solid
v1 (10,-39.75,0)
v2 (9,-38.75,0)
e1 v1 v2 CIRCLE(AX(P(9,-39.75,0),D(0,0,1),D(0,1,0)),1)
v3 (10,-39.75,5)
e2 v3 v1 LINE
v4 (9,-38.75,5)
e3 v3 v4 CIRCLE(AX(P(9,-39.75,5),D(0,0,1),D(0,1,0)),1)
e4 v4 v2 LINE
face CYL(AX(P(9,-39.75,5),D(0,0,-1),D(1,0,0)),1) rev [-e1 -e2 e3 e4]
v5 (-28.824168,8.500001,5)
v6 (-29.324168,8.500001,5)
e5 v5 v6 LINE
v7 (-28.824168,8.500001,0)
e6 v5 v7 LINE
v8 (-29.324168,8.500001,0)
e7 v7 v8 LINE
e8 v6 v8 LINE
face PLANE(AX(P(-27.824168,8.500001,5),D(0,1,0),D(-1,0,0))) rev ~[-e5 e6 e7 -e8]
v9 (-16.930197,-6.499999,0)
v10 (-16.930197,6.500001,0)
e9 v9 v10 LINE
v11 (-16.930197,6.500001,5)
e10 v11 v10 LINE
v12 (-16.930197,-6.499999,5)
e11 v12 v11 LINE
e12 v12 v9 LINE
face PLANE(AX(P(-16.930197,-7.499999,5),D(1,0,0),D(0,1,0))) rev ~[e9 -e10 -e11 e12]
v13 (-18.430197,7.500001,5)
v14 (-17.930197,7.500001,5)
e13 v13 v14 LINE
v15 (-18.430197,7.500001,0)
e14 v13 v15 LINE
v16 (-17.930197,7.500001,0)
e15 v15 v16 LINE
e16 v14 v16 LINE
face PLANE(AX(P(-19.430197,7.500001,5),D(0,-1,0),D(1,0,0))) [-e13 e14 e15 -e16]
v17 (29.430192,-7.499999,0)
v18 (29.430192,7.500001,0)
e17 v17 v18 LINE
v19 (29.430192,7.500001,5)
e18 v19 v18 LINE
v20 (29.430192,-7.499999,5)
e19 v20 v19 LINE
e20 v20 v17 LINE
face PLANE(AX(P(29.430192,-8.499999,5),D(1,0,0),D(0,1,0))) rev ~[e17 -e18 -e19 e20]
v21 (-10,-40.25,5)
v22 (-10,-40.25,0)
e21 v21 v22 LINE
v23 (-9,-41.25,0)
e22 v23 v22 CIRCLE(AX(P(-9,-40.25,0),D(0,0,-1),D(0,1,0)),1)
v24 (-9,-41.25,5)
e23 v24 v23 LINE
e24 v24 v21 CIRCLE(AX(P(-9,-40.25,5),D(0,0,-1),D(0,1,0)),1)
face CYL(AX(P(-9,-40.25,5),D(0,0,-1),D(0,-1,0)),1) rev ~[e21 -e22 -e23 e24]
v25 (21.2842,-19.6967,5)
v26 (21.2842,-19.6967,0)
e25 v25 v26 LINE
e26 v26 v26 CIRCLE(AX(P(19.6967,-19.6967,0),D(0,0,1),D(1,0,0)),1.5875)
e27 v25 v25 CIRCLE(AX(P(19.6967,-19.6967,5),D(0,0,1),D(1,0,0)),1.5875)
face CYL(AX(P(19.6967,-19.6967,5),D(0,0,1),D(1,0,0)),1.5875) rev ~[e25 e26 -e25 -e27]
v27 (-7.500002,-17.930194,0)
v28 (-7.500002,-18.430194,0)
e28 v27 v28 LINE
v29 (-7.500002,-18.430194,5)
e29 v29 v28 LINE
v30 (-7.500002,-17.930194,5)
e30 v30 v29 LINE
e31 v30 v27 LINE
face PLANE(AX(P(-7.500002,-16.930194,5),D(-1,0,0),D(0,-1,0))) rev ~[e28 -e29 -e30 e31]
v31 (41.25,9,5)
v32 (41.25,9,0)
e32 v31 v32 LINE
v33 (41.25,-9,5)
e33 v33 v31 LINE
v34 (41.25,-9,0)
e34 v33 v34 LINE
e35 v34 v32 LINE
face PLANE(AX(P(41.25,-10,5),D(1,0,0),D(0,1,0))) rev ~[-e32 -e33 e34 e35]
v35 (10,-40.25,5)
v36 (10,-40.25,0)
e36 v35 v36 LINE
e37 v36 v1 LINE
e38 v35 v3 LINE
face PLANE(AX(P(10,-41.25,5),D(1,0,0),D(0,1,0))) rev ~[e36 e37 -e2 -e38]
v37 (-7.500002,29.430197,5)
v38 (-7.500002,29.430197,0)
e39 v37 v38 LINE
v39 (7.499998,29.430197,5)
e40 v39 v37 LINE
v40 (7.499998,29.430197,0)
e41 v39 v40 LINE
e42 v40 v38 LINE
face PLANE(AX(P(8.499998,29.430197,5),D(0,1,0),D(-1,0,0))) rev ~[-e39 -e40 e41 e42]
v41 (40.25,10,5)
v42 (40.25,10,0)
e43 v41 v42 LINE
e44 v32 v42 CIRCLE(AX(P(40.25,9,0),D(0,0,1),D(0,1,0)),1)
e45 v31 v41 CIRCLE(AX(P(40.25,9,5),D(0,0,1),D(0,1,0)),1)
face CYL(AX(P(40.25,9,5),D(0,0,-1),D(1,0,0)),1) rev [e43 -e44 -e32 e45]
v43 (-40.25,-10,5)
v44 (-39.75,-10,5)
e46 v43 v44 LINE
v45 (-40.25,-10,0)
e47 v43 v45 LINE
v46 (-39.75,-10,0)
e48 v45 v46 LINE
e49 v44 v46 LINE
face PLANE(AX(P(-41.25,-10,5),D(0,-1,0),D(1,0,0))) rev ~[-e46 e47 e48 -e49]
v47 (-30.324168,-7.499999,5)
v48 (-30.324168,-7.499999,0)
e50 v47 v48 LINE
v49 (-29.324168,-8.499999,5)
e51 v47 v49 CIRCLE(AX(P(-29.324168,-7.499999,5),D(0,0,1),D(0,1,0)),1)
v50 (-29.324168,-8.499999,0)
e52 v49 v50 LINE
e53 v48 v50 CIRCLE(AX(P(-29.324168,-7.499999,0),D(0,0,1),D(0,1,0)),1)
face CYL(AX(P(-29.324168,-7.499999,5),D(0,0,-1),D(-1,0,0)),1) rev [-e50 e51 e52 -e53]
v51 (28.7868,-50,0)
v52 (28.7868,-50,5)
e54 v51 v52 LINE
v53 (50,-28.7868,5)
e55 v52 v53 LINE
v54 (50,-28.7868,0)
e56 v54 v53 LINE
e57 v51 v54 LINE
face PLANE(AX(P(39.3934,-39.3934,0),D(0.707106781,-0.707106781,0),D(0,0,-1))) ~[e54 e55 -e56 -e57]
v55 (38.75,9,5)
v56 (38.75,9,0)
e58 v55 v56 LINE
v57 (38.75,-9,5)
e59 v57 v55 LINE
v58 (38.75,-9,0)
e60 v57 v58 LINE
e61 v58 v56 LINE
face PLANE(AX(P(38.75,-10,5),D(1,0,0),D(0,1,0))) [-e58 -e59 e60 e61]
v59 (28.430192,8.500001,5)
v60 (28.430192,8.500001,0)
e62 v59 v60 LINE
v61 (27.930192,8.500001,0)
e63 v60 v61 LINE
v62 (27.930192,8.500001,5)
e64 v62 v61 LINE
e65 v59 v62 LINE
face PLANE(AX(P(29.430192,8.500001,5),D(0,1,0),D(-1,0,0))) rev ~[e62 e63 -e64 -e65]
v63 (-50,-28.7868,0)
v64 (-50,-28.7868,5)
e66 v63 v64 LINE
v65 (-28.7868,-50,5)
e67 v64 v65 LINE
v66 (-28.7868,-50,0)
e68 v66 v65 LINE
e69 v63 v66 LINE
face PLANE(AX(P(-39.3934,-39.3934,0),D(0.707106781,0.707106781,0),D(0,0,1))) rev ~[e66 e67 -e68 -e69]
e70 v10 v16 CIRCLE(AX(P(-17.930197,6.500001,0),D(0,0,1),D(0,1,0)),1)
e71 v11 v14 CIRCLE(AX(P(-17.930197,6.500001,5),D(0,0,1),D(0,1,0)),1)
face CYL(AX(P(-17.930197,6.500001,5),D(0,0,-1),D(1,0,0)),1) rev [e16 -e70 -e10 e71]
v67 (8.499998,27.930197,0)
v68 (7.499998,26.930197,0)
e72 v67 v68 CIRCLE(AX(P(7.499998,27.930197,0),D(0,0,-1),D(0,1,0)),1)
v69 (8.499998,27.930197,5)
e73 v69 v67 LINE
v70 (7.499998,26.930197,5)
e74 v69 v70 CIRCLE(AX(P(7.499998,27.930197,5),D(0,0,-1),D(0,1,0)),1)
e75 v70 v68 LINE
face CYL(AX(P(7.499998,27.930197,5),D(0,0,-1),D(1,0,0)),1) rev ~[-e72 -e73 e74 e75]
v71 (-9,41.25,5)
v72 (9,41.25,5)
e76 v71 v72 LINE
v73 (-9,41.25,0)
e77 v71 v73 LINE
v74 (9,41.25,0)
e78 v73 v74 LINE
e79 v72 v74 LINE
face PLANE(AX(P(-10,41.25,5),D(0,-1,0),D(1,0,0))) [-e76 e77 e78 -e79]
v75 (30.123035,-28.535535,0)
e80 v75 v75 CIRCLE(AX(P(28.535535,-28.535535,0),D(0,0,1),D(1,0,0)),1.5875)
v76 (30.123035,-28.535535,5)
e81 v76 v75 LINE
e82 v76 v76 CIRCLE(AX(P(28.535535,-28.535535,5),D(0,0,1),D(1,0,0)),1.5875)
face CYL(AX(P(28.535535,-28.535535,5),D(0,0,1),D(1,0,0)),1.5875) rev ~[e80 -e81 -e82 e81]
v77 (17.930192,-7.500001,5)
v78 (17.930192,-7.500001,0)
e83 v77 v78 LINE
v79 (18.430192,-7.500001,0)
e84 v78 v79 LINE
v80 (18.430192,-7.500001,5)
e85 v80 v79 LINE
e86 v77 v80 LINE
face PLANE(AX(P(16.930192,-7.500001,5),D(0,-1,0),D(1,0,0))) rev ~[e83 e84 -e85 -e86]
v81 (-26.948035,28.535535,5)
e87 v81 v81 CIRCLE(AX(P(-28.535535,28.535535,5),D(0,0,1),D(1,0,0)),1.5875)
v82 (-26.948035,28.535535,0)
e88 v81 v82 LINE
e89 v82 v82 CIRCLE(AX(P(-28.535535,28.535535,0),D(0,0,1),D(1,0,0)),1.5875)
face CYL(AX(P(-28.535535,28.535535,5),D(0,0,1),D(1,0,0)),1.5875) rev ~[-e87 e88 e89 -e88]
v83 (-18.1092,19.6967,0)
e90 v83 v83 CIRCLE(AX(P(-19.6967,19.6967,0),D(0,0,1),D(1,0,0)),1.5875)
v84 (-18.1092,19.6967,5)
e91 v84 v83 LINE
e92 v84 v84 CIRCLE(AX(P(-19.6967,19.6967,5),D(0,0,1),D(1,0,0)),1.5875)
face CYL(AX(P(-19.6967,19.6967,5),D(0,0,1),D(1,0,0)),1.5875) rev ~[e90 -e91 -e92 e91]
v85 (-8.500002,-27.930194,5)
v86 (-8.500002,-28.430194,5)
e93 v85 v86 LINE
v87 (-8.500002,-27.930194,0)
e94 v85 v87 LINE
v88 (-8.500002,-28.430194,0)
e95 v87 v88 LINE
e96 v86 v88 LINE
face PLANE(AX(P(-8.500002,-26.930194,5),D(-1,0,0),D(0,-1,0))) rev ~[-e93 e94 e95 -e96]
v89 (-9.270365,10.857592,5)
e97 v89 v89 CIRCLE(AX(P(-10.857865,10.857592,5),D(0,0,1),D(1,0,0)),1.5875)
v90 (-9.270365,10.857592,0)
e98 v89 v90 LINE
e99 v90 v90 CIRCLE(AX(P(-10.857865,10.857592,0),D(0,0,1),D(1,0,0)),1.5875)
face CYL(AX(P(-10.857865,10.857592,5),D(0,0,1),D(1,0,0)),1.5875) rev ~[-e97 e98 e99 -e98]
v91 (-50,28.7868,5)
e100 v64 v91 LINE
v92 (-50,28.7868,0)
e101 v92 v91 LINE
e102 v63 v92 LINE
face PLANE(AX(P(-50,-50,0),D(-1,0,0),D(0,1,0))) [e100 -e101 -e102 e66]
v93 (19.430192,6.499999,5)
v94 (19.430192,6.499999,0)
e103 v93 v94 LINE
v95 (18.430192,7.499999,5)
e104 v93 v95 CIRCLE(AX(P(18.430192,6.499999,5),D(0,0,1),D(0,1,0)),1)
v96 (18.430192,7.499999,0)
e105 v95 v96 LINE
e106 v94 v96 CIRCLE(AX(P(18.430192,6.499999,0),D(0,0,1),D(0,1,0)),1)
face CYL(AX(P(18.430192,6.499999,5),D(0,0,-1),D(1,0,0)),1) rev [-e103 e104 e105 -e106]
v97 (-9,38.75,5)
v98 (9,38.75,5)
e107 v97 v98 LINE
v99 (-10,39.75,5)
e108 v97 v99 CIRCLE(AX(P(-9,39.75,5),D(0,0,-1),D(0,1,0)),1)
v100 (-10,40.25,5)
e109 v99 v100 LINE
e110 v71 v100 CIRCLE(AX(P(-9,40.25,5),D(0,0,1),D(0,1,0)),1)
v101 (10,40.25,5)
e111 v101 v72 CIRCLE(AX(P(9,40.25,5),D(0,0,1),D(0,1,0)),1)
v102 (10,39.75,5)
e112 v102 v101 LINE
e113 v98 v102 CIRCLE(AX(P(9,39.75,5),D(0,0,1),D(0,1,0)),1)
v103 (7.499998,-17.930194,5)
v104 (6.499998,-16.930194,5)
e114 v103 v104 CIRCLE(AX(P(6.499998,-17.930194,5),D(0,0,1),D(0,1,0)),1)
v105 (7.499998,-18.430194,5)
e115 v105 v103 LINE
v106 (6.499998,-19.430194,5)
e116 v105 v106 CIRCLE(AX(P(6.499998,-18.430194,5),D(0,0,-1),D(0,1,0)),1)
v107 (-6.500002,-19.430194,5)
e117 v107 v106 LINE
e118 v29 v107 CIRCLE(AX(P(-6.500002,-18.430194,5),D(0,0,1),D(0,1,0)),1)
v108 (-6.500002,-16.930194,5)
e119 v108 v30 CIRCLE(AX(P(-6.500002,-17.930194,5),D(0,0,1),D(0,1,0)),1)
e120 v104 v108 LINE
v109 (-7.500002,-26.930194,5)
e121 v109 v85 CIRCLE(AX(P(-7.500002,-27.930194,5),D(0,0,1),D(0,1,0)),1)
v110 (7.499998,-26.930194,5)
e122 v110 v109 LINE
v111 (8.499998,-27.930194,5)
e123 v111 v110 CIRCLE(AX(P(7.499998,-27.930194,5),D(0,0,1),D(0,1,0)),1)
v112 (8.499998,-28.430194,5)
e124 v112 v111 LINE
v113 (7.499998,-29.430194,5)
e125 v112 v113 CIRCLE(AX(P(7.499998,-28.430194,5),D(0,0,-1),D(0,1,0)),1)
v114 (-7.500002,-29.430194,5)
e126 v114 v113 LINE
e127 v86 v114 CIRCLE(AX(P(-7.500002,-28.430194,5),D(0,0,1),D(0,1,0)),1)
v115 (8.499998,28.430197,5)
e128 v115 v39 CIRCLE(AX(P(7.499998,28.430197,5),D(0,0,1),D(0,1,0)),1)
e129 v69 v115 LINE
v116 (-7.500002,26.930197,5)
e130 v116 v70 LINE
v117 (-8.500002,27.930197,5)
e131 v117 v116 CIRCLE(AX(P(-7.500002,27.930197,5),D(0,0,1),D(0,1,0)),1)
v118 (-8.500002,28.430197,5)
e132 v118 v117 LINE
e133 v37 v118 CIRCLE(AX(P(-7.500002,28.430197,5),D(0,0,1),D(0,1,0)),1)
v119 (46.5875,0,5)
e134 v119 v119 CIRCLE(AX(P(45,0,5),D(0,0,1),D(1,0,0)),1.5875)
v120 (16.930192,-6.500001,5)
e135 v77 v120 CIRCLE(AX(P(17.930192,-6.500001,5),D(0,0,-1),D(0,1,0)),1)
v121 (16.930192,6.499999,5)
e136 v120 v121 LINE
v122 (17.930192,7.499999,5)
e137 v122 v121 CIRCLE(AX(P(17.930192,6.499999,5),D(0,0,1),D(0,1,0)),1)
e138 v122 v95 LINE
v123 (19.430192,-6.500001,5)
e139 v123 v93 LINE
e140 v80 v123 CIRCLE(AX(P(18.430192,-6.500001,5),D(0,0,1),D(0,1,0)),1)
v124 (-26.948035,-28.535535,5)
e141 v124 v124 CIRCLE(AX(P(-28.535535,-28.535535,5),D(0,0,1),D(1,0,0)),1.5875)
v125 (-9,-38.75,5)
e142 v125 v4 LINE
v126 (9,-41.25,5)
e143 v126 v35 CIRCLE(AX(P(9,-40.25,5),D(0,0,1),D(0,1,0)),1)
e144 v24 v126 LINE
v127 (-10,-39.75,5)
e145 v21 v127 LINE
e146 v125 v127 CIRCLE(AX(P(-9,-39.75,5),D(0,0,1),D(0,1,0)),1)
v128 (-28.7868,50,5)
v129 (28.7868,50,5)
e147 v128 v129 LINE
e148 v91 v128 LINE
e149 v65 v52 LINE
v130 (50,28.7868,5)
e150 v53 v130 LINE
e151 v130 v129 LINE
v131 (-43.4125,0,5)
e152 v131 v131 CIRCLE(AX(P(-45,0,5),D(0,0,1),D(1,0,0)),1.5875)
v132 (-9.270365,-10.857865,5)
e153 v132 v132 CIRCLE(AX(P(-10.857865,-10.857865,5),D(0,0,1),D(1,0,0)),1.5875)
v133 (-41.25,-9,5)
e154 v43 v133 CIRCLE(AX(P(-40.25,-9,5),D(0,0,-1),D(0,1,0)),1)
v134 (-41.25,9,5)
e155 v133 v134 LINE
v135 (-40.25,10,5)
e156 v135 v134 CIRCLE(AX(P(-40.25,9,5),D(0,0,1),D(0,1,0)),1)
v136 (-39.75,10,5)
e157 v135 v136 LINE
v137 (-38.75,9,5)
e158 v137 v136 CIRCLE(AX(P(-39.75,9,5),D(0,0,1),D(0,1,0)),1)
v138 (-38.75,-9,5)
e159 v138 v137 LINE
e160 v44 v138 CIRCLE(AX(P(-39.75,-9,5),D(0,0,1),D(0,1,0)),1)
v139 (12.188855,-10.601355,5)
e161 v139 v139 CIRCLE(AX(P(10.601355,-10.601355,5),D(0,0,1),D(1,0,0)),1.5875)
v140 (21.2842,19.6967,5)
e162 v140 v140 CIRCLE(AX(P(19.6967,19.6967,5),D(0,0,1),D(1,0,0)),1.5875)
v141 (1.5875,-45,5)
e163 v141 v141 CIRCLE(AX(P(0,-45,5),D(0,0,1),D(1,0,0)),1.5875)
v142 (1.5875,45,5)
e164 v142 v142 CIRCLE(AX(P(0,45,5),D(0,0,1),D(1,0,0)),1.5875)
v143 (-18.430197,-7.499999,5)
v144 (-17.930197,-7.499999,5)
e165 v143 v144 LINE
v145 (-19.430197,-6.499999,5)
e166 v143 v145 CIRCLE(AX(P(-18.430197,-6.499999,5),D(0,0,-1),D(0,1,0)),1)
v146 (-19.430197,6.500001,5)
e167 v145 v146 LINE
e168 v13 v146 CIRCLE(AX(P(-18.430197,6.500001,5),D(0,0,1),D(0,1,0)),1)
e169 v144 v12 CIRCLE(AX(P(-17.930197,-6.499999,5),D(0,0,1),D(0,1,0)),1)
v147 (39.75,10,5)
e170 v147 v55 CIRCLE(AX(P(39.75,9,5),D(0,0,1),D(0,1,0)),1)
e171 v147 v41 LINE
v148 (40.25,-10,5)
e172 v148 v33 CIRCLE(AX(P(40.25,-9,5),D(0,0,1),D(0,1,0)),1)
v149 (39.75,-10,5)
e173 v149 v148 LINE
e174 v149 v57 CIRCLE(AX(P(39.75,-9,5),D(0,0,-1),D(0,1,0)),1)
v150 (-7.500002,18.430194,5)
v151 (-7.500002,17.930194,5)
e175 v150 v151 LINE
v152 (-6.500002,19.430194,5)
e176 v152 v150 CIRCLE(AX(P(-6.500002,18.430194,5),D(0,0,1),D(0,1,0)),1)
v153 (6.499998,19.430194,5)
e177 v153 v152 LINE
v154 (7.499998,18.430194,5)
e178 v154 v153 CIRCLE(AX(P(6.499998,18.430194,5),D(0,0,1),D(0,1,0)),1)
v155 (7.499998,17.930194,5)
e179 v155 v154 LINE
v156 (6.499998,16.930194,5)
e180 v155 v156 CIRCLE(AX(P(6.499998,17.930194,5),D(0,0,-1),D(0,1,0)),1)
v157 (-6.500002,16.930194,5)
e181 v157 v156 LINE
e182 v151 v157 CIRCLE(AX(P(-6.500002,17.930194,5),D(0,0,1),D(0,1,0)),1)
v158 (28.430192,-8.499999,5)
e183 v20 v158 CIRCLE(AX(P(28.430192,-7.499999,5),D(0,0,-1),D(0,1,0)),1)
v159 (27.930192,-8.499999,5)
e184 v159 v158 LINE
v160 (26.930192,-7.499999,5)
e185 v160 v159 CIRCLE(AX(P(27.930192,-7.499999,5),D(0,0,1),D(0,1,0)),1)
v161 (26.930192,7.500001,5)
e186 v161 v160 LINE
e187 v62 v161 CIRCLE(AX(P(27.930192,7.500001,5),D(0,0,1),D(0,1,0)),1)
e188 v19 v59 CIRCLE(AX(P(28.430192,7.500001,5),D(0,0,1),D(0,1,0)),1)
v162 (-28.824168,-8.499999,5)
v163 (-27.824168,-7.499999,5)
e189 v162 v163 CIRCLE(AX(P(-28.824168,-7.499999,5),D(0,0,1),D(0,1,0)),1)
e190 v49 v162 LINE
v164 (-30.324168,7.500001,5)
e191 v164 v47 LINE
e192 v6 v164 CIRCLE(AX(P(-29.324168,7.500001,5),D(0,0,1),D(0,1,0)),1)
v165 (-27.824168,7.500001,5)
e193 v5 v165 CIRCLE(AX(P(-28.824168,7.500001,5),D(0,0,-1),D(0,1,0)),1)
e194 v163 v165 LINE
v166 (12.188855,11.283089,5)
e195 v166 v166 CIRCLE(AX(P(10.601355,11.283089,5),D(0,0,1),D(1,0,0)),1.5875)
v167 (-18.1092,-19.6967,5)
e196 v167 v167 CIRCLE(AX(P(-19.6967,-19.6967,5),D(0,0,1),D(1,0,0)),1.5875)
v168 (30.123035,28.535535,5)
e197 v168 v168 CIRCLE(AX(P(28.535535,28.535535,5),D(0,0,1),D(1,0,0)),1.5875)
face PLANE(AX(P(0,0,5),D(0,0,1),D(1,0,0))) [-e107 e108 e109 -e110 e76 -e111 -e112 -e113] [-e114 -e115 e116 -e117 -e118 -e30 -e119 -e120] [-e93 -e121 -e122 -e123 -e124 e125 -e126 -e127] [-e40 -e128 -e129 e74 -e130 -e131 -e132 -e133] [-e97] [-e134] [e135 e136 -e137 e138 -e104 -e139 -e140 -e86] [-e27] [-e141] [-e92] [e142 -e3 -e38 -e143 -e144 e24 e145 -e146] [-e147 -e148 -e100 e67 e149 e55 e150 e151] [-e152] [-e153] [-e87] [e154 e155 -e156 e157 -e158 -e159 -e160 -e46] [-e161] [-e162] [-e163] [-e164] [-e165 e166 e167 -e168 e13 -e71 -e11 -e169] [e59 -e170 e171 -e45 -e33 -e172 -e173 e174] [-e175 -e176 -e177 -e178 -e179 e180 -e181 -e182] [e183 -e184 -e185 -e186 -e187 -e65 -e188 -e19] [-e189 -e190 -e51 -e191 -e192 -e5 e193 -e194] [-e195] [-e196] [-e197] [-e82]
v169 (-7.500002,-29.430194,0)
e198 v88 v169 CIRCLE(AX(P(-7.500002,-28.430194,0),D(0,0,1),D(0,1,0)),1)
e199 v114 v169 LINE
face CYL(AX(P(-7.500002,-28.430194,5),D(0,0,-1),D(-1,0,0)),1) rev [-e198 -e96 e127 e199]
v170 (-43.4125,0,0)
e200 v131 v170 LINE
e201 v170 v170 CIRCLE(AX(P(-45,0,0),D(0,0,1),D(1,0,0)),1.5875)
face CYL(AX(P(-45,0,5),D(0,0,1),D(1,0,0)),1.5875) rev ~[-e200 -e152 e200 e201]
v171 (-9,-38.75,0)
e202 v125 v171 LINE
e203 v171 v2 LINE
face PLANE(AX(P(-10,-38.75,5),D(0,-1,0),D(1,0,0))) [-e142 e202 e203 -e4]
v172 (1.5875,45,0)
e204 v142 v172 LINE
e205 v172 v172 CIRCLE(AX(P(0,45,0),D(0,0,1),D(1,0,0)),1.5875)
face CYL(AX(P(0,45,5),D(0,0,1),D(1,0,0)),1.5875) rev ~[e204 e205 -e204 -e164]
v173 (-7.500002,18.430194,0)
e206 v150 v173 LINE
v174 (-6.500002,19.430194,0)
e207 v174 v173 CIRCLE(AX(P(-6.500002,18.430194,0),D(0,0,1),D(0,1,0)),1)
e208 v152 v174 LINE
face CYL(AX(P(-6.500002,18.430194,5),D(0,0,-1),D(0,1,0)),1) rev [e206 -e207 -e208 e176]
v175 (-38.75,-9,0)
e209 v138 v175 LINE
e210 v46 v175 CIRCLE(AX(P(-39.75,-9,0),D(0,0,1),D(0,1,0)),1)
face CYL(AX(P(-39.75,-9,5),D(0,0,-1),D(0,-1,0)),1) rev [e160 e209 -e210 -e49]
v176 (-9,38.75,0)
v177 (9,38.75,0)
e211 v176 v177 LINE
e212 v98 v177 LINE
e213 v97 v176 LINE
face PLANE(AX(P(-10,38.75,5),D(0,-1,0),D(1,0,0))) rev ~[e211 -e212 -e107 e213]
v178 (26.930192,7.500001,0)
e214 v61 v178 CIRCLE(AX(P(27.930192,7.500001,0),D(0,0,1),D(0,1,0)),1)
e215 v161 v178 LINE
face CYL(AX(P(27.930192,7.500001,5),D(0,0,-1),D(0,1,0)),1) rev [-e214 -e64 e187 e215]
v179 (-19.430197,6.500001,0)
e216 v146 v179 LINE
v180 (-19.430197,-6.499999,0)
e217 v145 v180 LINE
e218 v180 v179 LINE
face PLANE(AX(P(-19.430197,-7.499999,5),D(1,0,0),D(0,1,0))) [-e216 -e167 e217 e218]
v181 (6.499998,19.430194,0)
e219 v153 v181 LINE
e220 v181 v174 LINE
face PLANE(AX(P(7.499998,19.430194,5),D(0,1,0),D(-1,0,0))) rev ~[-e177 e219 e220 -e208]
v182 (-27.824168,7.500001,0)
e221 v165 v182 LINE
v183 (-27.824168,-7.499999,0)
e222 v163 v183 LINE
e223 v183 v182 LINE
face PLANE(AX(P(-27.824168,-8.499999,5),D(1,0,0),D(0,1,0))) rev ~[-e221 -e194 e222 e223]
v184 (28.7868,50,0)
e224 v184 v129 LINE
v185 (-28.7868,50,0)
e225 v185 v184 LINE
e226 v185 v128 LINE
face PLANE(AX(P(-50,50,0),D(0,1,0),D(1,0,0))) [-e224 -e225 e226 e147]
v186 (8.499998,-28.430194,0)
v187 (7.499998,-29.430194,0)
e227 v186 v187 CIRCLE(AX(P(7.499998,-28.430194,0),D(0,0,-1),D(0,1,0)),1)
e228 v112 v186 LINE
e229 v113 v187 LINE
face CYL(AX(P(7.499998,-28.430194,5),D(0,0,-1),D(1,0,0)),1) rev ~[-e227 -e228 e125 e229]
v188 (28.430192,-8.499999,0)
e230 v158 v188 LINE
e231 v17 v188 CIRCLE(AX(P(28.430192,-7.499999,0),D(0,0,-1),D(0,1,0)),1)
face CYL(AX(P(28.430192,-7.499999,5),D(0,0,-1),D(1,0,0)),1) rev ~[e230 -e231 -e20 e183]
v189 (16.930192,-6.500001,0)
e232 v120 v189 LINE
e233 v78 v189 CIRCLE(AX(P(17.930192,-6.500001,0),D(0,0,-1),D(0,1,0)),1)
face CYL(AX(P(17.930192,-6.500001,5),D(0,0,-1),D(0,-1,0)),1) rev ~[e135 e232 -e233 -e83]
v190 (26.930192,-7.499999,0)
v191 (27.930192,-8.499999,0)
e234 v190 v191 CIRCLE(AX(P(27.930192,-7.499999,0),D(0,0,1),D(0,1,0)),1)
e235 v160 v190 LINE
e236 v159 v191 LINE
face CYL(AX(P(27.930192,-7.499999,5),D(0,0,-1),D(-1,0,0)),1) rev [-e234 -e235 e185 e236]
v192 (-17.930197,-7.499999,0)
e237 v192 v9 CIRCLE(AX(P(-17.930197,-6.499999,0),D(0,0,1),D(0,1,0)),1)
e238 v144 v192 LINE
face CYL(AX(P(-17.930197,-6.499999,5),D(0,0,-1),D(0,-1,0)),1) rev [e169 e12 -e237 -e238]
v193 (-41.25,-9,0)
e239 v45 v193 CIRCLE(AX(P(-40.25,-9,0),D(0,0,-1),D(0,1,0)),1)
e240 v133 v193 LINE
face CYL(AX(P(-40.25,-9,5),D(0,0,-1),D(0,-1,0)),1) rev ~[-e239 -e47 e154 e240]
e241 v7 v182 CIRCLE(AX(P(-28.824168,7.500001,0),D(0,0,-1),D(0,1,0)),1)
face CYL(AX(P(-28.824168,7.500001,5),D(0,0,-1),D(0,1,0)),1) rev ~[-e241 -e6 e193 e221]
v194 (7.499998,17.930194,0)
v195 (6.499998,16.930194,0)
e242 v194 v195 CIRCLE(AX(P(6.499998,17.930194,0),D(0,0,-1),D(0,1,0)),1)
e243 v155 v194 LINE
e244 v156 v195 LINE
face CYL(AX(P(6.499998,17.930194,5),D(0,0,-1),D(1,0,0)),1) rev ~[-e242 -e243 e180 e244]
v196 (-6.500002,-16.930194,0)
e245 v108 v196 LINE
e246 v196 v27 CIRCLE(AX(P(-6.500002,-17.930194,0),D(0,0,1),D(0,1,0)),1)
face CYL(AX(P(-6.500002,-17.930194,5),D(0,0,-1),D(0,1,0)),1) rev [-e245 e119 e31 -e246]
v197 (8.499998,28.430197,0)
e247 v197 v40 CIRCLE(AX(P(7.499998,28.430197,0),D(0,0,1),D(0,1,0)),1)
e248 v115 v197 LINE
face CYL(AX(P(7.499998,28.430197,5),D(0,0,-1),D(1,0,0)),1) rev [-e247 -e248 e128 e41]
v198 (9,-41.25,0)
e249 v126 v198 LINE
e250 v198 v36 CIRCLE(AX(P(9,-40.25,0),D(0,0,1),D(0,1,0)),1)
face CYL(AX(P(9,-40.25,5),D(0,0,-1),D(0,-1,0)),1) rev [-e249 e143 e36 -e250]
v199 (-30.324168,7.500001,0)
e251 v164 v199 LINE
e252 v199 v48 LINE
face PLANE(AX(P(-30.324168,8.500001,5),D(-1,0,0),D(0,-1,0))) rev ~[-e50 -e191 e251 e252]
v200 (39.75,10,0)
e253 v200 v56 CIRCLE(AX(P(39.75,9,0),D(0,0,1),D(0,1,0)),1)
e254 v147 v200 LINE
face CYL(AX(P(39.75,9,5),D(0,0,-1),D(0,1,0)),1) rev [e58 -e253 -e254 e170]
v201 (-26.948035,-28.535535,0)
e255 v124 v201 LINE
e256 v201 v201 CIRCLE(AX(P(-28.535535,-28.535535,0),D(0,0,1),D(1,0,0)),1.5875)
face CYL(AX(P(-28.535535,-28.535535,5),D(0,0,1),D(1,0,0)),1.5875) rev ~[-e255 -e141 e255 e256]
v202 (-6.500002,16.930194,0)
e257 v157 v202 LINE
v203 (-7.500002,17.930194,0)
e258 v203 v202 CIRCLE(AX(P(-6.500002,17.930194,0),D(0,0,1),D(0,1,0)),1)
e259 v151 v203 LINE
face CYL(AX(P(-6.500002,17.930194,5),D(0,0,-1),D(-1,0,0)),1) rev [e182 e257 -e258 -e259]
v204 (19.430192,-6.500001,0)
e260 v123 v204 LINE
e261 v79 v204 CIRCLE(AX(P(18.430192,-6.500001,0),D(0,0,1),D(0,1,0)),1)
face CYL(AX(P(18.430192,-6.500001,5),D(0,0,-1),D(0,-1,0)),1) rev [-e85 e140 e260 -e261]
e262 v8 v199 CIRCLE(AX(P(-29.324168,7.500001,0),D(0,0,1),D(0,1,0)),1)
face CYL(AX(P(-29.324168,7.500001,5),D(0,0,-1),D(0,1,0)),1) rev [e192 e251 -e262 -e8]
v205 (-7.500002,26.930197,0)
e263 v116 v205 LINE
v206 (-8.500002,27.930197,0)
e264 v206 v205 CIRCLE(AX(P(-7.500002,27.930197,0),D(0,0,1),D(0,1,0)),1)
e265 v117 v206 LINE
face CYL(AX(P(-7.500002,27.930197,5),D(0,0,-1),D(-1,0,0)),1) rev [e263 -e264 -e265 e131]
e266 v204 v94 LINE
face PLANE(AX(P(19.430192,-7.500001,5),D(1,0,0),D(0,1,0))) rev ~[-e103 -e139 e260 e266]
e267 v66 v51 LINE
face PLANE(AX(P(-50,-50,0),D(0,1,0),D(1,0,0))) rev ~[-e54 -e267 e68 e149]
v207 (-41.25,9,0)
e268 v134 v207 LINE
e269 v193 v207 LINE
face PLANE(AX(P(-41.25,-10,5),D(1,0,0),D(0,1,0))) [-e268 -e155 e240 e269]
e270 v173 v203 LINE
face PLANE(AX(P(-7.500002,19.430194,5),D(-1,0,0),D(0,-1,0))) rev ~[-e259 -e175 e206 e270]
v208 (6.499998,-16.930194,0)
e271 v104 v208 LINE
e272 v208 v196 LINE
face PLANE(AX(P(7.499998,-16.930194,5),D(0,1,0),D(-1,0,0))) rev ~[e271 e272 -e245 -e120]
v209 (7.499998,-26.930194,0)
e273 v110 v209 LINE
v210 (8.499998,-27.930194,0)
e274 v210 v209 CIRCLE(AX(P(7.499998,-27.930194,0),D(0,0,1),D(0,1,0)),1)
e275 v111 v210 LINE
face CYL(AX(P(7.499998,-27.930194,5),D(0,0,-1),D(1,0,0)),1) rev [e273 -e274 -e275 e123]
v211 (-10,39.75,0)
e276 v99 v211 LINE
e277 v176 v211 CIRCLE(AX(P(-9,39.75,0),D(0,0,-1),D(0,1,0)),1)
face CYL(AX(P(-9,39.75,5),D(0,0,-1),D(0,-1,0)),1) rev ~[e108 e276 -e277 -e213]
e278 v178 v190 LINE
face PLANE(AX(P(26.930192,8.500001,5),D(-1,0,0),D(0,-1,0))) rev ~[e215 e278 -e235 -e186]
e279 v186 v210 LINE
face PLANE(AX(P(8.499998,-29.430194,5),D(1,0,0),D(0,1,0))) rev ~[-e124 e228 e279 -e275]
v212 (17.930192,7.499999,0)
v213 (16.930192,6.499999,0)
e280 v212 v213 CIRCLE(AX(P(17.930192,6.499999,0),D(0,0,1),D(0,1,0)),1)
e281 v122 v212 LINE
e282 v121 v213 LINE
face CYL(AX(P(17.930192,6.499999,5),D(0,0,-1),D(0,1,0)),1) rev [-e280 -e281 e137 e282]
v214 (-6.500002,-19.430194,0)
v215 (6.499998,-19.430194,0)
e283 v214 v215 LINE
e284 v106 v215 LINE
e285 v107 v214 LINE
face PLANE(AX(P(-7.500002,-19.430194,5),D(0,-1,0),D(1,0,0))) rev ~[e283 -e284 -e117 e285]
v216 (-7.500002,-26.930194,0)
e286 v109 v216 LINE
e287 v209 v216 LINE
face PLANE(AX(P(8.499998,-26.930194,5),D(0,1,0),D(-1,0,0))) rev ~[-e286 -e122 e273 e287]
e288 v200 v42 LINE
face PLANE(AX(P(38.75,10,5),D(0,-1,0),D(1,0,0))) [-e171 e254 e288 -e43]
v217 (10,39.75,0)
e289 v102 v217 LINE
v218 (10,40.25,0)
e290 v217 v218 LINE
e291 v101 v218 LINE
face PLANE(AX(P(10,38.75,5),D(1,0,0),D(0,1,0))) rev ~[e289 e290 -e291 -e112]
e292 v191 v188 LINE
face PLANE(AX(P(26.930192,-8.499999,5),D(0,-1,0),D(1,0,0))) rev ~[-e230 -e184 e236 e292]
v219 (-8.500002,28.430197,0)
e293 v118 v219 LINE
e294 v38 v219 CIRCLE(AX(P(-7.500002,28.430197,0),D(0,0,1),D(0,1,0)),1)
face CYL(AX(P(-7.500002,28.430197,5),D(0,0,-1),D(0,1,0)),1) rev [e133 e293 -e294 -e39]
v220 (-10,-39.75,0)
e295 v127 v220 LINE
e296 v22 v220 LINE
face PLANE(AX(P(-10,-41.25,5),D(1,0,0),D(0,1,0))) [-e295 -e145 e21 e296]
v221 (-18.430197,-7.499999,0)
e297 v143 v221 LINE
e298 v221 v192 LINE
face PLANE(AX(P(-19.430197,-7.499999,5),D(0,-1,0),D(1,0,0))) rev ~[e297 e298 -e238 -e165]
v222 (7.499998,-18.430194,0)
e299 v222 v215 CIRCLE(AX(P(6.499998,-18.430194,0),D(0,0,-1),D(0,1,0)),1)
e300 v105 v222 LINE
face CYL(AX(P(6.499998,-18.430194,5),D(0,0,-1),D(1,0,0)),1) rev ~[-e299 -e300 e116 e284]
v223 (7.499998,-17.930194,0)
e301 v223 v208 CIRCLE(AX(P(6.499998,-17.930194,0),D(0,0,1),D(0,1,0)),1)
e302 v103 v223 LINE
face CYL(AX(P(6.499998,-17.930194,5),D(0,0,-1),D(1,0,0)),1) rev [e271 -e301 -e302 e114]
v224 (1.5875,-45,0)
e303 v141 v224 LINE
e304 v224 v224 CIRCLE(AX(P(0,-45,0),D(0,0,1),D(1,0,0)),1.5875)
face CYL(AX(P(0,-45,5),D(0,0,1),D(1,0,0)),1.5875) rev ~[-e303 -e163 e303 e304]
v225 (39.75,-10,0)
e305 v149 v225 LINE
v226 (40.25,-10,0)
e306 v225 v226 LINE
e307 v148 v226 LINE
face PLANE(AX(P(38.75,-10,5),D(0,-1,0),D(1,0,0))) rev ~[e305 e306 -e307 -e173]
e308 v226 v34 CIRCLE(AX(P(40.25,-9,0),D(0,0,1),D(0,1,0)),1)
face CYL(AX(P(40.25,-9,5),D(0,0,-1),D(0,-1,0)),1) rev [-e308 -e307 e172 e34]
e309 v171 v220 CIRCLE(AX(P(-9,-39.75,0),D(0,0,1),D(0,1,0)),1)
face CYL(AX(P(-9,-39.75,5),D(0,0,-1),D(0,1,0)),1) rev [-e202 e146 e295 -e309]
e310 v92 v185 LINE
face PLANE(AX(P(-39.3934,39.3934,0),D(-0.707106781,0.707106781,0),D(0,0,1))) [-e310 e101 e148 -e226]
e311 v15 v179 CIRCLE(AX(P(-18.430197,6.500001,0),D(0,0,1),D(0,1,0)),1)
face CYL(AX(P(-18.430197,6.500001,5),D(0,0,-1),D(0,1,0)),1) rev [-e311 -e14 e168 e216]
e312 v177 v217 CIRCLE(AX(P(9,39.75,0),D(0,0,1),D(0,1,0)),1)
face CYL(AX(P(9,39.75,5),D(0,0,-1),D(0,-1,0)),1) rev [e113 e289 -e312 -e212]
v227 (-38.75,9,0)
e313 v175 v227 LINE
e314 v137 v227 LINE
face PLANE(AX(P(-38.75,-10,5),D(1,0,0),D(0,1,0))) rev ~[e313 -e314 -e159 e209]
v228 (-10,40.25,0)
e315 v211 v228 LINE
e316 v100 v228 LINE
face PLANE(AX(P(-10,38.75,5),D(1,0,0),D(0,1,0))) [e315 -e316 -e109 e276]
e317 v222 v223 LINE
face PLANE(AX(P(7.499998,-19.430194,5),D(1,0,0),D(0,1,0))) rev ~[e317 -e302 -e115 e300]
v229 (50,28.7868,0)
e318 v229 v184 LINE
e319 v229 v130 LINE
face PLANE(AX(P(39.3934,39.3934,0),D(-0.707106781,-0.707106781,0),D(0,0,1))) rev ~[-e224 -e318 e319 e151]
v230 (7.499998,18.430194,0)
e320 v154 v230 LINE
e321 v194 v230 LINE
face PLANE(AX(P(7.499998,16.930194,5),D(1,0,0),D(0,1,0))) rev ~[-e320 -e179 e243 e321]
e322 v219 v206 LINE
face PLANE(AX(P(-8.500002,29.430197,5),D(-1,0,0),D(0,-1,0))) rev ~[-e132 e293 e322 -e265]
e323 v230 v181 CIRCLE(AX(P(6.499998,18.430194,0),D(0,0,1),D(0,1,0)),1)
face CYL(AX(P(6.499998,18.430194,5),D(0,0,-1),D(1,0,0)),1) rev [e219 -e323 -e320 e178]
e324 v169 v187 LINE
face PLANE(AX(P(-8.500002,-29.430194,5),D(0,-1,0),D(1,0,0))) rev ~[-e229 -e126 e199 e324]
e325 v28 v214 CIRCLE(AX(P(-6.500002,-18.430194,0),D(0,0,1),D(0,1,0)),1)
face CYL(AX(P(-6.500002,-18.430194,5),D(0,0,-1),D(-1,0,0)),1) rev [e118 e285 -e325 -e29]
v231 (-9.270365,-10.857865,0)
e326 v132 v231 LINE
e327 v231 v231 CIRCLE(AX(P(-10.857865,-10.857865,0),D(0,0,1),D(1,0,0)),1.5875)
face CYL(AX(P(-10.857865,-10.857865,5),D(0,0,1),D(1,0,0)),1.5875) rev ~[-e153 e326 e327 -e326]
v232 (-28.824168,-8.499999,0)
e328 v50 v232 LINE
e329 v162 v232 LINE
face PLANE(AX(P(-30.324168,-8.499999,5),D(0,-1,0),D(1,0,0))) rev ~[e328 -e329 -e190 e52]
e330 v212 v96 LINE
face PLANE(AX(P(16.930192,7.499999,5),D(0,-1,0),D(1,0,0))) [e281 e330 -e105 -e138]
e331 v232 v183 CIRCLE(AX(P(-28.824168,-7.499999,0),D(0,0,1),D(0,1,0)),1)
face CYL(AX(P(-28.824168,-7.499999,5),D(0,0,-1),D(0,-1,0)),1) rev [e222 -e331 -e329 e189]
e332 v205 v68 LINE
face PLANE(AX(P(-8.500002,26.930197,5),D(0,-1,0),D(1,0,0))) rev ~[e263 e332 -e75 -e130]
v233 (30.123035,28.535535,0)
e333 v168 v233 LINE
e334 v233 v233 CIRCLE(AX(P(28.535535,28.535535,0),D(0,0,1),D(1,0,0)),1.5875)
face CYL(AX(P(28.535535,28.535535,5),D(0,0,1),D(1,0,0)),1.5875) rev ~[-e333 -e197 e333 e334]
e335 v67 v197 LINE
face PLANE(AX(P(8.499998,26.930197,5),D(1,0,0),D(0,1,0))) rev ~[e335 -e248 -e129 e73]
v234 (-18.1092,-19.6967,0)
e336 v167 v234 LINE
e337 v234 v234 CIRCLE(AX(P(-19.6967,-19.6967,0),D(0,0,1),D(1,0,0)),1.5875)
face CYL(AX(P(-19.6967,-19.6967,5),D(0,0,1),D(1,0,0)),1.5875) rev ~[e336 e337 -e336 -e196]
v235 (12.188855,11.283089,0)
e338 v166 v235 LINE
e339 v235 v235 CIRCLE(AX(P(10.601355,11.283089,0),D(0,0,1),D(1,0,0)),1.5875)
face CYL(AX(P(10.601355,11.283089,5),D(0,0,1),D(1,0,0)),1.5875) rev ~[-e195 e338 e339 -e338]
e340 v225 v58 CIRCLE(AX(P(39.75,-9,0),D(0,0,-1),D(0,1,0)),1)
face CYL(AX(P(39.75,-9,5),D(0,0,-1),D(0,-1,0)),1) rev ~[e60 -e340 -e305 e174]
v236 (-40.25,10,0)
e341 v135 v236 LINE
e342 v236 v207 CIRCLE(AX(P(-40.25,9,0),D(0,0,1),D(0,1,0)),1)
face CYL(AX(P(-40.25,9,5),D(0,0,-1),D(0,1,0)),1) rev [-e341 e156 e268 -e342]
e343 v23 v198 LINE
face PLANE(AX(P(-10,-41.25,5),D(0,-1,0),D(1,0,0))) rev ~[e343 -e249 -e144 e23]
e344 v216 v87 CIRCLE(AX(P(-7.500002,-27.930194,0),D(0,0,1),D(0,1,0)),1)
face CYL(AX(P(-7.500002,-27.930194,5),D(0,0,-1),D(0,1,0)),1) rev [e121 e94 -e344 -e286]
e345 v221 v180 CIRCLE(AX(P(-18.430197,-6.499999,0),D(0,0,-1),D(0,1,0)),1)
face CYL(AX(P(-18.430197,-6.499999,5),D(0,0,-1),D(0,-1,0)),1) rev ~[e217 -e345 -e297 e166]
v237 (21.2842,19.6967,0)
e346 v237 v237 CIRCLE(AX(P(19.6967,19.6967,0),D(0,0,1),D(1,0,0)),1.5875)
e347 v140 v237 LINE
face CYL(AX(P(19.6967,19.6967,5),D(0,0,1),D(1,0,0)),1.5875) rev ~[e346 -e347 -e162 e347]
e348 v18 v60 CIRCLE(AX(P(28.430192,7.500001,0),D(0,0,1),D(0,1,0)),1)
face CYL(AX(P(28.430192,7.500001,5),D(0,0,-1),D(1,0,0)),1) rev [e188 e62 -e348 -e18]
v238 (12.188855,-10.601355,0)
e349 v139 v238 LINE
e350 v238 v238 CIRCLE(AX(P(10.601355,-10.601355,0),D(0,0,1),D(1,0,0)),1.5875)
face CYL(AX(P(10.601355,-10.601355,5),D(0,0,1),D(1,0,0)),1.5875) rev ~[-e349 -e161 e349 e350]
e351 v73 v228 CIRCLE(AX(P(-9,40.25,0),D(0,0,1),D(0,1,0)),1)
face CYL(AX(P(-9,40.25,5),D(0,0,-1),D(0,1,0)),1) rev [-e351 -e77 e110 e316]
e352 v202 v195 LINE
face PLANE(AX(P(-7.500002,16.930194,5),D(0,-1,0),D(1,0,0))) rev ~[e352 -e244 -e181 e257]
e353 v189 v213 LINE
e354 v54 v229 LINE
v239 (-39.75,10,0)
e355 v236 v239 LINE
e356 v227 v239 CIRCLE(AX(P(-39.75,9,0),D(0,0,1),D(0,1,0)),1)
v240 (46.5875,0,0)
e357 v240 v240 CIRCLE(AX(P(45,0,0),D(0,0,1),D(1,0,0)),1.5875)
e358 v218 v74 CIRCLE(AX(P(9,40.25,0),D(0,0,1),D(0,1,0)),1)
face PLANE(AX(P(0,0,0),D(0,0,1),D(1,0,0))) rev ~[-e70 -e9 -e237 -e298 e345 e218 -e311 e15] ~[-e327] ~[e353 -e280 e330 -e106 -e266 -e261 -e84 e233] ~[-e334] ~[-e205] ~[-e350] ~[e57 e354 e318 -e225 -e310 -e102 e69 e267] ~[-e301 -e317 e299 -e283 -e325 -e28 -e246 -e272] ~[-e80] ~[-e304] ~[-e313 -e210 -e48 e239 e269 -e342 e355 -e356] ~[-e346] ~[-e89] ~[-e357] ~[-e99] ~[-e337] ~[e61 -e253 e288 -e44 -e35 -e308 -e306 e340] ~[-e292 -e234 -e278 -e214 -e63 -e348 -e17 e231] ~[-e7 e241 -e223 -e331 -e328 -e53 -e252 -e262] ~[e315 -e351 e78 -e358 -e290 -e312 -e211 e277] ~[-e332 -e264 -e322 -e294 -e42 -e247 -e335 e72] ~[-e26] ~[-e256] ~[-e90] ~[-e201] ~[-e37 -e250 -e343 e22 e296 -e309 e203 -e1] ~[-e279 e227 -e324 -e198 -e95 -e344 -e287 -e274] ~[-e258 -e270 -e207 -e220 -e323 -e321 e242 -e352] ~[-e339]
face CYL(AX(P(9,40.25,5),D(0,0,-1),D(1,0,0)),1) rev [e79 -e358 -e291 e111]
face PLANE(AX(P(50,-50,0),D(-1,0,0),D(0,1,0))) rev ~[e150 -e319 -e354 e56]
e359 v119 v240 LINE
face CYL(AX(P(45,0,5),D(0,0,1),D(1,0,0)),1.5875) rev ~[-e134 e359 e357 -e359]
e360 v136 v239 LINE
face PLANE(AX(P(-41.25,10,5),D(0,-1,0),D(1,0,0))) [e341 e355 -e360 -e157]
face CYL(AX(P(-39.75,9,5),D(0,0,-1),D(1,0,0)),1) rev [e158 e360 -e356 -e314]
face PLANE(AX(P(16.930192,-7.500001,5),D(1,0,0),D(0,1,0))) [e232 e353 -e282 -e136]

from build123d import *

# Parameters (mm, degrees)
F0_W     = 100
F0_H     = 100
F1_DEPTH = 5
F2_SIZE2 = 21.2132
F2_SIZE  = 21.2132
F3_W     = 2.5
F3_H     = 20
F3_R     = 1.5875
F3_W_2   = 20
F3_H_2   = 2.5
F4_DEPTH = 5
F5_R     = 1
F6_W     = 2.5
F6_H     = 15
F7_DEPTH = 5
F8_R     = 1


with BuildPart() as f1:
    # F0 (on Top) → F1 (new body)
    with BuildSketch(Plane.XY):
        Rectangle(F0_W, F0_H)
    extrude(amount=F1_DEPTH)

    # F2
    f2_edges = [f1.edges().sort_by_distance(p)[0] for p in [
        (50, -50, 2.5),
        (50, 50, 2.5),
        (-50, -50, 2.5),
        (-50, 50, 2.5),
    ]]
    chamfer(f2_edges, length=F2_SIZE, length2=F2_SIZE2)

    # F3 (on face) → F4 (cut)
    with BuildSketch(Plane.XY.offset(5)):
        with Locations((40, 0)):
            Rectangle(F3_W, F3_H)
        with Locations((45, 0)):
            Circle(F3_R)
        with Locations((0, 45)):
            Circle(F3_R)
        with Locations((0, 40)):
            Rectangle(F3_W_2, F3_H_2)
        with Locations((19.6967, 19.6967)):
            Circle(F3_R)
        with Locations((-28.535535, 28.535535)):
            Circle(F3_R)
        with Locations((28.535535, 28.535535)):
            Circle(F3_R)
        with Locations((10.601355, 11.283089)):
            Circle(F3_R)
        with Locations((-19.6967, 19.6967)):
            Circle(F3_R)
        with Locations((-45, 0)):
            Circle(F3_R)
        with Locations((-40, 0)):
            Rectangle(F3_W, F3_H)
        with Locations((-10.857865, 10.857592)):
            Circle(F3_R)
        with Locations((0, -45)):
            Circle(F3_R)
        with Locations((0, -40)):
            Rectangle(F3_W_2, F3_H_2)
        with Locations((10.601355, -10.601355)):
            Circle(F3_R)
        with Locations((19.6967, -19.6967)):
            Circle(F3_R)
        with Locations((28.535535, -28.535535)):
            Circle(F3_R)
        with Locations((-28.535535, -28.535535)):
            Circle(F3_R)
        with Locations((-19.6967, -19.6967)):
            Circle(F3_R)
        with Locations((-10.857865, -10.857865)):
            Circle(F3_R)
    extrude(amount=-F4_DEPTH, mode=Mode.SUBTRACT)

    # F5
    f5_edges = [f1.edges().sort_by_distance(p)[0] for p in [
        (-41.25, 10, 2.5),
        (-10, -38.75, 2.5),
        (38.75, 10, 2.5),
        (-10, 41.25, 2.5),
        (10, -38.75, 2.5),
        (41.25, 10, 2.5),
        (-38.75, 10, 2.5),
        (10, 41.25, 2.5),
        (41.25, -10, 2.5),
        (10, -41.25, 2.5),
        (10, 38.75, 2.5),
        (-38.75, -10, 2.5),
        (-10, 38.75, 2.5),
        (38.75, -10, 2.5),
        (-41.25, -10, 2.5),
        (-10, -41.25, 2.5),
    ]]
    fillet(f5_edges, radius=F5_R)

    # F6 (on face) → F7 (cut)
    with BuildSketch(Plane.XY.offset(5)):
        Polygon((7.499998, 16.930194), (7.499998, 19.430194), (-2e-06, 19.430194), (-7.500002, 19.430194), (-7.500002, 18.180197), (-7.500002, 16.930194), align=None)
        with Locations((-18.180197, 1e-06)):
            Rectangle(F6_W, F6_H)
        Polygon((7.499998, -19.430194), (7.499998, -16.930194), (-7.500002, -16.930194), (-7.500002, -19.430194), (-2e-06, -19.430194), align=None)
        with Locations((18.180192, -1e-06)):
            Rectangle(F6_W, F6_H)
        Polygon((-27.824168, 1e-06), (-27.824168, 8.500001), (-30.324168, 8.500001), (-30.324168, -8.499999), (-27.824168, -8.499999), align=None)
        Polygon((8.499998, -29.430194), (8.499998, -26.930194), (-2e-06, -26.930194), (-8.500002, -26.930194), (-8.500002, -29.430194), align=None)
        Polygon((29.430192, -8.499999), (29.430192, 8.500001), (26.930192, 8.500001), (26.930192, 1e-06), (26.930192, -8.499999), align=None)
        Polygon((8.499998, 26.930197), (8.499998, 29.430197), (-8.500002, 29.430197), (-8.500002, 26.930197), (-2e-06, 26.930197), align=None)
    extrude(amount=-F7_DEPTH, mode=Mode.SUBTRACT)

    # F8
    f8_edges = [f1.edges().sort_by_distance(p)[0] for p in [
        (-30.324168, 8.500001, 2.5),
        (-19.430197, 7.500001, 2.5),
        (-8.500002, 29.430197, 2.5),
        (-7.500002, 19.430194, 2.5),
        (-7.500002, -16.930194, 2.5),
        (-8.500002, -26.930194, 2.5),
        (16.930192, 7.499999, 2.5),
        (26.930192, 8.500001, 2.5),
        (8.499998, 29.430197, 2.5),
        (7.499998, 19.430194, 2.5),
        (-27.824168, 8.500001, 2.5),
        (-16.930197, 7.500001, 2.5),
        (29.430192, 8.500001, 2.5),
        (19.430192, 7.499999, 2.5),
        (7.499998, -16.930194, 2.5),
        (8.499998, -26.930194, 2.5),
        (29.430192, -8.499999, 2.5),
        (19.430192, -7.500001, 2.5),
        (7.499998, -19.430194, 2.5),
        (8.499998, -29.430194, 2.5),
        (7.499998, 16.930194, 2.5),
        (8.499998, 26.930197, 2.5),
        (-27.824168, -8.499999, 2.5),
        (-16.930197, -7.499999, 2.5),
        (-7.500002, -19.430194, 2.5),
        (-8.500002, -29.430194, 2.5),
        (-30.324168, -8.499999, 2.5),
        (-19.430197, -7.499999, 2.5),
        (16.930192, -7.500001, 2.5),
        (26.930192, -8.499999, 2.5),
        (-8.500002, 26.930197, 2.5),
        (-7.500002, 16.930194, 2.5),
    ]]
    fillet(f8_edges, radius=F8_R)


solid = f1.part
